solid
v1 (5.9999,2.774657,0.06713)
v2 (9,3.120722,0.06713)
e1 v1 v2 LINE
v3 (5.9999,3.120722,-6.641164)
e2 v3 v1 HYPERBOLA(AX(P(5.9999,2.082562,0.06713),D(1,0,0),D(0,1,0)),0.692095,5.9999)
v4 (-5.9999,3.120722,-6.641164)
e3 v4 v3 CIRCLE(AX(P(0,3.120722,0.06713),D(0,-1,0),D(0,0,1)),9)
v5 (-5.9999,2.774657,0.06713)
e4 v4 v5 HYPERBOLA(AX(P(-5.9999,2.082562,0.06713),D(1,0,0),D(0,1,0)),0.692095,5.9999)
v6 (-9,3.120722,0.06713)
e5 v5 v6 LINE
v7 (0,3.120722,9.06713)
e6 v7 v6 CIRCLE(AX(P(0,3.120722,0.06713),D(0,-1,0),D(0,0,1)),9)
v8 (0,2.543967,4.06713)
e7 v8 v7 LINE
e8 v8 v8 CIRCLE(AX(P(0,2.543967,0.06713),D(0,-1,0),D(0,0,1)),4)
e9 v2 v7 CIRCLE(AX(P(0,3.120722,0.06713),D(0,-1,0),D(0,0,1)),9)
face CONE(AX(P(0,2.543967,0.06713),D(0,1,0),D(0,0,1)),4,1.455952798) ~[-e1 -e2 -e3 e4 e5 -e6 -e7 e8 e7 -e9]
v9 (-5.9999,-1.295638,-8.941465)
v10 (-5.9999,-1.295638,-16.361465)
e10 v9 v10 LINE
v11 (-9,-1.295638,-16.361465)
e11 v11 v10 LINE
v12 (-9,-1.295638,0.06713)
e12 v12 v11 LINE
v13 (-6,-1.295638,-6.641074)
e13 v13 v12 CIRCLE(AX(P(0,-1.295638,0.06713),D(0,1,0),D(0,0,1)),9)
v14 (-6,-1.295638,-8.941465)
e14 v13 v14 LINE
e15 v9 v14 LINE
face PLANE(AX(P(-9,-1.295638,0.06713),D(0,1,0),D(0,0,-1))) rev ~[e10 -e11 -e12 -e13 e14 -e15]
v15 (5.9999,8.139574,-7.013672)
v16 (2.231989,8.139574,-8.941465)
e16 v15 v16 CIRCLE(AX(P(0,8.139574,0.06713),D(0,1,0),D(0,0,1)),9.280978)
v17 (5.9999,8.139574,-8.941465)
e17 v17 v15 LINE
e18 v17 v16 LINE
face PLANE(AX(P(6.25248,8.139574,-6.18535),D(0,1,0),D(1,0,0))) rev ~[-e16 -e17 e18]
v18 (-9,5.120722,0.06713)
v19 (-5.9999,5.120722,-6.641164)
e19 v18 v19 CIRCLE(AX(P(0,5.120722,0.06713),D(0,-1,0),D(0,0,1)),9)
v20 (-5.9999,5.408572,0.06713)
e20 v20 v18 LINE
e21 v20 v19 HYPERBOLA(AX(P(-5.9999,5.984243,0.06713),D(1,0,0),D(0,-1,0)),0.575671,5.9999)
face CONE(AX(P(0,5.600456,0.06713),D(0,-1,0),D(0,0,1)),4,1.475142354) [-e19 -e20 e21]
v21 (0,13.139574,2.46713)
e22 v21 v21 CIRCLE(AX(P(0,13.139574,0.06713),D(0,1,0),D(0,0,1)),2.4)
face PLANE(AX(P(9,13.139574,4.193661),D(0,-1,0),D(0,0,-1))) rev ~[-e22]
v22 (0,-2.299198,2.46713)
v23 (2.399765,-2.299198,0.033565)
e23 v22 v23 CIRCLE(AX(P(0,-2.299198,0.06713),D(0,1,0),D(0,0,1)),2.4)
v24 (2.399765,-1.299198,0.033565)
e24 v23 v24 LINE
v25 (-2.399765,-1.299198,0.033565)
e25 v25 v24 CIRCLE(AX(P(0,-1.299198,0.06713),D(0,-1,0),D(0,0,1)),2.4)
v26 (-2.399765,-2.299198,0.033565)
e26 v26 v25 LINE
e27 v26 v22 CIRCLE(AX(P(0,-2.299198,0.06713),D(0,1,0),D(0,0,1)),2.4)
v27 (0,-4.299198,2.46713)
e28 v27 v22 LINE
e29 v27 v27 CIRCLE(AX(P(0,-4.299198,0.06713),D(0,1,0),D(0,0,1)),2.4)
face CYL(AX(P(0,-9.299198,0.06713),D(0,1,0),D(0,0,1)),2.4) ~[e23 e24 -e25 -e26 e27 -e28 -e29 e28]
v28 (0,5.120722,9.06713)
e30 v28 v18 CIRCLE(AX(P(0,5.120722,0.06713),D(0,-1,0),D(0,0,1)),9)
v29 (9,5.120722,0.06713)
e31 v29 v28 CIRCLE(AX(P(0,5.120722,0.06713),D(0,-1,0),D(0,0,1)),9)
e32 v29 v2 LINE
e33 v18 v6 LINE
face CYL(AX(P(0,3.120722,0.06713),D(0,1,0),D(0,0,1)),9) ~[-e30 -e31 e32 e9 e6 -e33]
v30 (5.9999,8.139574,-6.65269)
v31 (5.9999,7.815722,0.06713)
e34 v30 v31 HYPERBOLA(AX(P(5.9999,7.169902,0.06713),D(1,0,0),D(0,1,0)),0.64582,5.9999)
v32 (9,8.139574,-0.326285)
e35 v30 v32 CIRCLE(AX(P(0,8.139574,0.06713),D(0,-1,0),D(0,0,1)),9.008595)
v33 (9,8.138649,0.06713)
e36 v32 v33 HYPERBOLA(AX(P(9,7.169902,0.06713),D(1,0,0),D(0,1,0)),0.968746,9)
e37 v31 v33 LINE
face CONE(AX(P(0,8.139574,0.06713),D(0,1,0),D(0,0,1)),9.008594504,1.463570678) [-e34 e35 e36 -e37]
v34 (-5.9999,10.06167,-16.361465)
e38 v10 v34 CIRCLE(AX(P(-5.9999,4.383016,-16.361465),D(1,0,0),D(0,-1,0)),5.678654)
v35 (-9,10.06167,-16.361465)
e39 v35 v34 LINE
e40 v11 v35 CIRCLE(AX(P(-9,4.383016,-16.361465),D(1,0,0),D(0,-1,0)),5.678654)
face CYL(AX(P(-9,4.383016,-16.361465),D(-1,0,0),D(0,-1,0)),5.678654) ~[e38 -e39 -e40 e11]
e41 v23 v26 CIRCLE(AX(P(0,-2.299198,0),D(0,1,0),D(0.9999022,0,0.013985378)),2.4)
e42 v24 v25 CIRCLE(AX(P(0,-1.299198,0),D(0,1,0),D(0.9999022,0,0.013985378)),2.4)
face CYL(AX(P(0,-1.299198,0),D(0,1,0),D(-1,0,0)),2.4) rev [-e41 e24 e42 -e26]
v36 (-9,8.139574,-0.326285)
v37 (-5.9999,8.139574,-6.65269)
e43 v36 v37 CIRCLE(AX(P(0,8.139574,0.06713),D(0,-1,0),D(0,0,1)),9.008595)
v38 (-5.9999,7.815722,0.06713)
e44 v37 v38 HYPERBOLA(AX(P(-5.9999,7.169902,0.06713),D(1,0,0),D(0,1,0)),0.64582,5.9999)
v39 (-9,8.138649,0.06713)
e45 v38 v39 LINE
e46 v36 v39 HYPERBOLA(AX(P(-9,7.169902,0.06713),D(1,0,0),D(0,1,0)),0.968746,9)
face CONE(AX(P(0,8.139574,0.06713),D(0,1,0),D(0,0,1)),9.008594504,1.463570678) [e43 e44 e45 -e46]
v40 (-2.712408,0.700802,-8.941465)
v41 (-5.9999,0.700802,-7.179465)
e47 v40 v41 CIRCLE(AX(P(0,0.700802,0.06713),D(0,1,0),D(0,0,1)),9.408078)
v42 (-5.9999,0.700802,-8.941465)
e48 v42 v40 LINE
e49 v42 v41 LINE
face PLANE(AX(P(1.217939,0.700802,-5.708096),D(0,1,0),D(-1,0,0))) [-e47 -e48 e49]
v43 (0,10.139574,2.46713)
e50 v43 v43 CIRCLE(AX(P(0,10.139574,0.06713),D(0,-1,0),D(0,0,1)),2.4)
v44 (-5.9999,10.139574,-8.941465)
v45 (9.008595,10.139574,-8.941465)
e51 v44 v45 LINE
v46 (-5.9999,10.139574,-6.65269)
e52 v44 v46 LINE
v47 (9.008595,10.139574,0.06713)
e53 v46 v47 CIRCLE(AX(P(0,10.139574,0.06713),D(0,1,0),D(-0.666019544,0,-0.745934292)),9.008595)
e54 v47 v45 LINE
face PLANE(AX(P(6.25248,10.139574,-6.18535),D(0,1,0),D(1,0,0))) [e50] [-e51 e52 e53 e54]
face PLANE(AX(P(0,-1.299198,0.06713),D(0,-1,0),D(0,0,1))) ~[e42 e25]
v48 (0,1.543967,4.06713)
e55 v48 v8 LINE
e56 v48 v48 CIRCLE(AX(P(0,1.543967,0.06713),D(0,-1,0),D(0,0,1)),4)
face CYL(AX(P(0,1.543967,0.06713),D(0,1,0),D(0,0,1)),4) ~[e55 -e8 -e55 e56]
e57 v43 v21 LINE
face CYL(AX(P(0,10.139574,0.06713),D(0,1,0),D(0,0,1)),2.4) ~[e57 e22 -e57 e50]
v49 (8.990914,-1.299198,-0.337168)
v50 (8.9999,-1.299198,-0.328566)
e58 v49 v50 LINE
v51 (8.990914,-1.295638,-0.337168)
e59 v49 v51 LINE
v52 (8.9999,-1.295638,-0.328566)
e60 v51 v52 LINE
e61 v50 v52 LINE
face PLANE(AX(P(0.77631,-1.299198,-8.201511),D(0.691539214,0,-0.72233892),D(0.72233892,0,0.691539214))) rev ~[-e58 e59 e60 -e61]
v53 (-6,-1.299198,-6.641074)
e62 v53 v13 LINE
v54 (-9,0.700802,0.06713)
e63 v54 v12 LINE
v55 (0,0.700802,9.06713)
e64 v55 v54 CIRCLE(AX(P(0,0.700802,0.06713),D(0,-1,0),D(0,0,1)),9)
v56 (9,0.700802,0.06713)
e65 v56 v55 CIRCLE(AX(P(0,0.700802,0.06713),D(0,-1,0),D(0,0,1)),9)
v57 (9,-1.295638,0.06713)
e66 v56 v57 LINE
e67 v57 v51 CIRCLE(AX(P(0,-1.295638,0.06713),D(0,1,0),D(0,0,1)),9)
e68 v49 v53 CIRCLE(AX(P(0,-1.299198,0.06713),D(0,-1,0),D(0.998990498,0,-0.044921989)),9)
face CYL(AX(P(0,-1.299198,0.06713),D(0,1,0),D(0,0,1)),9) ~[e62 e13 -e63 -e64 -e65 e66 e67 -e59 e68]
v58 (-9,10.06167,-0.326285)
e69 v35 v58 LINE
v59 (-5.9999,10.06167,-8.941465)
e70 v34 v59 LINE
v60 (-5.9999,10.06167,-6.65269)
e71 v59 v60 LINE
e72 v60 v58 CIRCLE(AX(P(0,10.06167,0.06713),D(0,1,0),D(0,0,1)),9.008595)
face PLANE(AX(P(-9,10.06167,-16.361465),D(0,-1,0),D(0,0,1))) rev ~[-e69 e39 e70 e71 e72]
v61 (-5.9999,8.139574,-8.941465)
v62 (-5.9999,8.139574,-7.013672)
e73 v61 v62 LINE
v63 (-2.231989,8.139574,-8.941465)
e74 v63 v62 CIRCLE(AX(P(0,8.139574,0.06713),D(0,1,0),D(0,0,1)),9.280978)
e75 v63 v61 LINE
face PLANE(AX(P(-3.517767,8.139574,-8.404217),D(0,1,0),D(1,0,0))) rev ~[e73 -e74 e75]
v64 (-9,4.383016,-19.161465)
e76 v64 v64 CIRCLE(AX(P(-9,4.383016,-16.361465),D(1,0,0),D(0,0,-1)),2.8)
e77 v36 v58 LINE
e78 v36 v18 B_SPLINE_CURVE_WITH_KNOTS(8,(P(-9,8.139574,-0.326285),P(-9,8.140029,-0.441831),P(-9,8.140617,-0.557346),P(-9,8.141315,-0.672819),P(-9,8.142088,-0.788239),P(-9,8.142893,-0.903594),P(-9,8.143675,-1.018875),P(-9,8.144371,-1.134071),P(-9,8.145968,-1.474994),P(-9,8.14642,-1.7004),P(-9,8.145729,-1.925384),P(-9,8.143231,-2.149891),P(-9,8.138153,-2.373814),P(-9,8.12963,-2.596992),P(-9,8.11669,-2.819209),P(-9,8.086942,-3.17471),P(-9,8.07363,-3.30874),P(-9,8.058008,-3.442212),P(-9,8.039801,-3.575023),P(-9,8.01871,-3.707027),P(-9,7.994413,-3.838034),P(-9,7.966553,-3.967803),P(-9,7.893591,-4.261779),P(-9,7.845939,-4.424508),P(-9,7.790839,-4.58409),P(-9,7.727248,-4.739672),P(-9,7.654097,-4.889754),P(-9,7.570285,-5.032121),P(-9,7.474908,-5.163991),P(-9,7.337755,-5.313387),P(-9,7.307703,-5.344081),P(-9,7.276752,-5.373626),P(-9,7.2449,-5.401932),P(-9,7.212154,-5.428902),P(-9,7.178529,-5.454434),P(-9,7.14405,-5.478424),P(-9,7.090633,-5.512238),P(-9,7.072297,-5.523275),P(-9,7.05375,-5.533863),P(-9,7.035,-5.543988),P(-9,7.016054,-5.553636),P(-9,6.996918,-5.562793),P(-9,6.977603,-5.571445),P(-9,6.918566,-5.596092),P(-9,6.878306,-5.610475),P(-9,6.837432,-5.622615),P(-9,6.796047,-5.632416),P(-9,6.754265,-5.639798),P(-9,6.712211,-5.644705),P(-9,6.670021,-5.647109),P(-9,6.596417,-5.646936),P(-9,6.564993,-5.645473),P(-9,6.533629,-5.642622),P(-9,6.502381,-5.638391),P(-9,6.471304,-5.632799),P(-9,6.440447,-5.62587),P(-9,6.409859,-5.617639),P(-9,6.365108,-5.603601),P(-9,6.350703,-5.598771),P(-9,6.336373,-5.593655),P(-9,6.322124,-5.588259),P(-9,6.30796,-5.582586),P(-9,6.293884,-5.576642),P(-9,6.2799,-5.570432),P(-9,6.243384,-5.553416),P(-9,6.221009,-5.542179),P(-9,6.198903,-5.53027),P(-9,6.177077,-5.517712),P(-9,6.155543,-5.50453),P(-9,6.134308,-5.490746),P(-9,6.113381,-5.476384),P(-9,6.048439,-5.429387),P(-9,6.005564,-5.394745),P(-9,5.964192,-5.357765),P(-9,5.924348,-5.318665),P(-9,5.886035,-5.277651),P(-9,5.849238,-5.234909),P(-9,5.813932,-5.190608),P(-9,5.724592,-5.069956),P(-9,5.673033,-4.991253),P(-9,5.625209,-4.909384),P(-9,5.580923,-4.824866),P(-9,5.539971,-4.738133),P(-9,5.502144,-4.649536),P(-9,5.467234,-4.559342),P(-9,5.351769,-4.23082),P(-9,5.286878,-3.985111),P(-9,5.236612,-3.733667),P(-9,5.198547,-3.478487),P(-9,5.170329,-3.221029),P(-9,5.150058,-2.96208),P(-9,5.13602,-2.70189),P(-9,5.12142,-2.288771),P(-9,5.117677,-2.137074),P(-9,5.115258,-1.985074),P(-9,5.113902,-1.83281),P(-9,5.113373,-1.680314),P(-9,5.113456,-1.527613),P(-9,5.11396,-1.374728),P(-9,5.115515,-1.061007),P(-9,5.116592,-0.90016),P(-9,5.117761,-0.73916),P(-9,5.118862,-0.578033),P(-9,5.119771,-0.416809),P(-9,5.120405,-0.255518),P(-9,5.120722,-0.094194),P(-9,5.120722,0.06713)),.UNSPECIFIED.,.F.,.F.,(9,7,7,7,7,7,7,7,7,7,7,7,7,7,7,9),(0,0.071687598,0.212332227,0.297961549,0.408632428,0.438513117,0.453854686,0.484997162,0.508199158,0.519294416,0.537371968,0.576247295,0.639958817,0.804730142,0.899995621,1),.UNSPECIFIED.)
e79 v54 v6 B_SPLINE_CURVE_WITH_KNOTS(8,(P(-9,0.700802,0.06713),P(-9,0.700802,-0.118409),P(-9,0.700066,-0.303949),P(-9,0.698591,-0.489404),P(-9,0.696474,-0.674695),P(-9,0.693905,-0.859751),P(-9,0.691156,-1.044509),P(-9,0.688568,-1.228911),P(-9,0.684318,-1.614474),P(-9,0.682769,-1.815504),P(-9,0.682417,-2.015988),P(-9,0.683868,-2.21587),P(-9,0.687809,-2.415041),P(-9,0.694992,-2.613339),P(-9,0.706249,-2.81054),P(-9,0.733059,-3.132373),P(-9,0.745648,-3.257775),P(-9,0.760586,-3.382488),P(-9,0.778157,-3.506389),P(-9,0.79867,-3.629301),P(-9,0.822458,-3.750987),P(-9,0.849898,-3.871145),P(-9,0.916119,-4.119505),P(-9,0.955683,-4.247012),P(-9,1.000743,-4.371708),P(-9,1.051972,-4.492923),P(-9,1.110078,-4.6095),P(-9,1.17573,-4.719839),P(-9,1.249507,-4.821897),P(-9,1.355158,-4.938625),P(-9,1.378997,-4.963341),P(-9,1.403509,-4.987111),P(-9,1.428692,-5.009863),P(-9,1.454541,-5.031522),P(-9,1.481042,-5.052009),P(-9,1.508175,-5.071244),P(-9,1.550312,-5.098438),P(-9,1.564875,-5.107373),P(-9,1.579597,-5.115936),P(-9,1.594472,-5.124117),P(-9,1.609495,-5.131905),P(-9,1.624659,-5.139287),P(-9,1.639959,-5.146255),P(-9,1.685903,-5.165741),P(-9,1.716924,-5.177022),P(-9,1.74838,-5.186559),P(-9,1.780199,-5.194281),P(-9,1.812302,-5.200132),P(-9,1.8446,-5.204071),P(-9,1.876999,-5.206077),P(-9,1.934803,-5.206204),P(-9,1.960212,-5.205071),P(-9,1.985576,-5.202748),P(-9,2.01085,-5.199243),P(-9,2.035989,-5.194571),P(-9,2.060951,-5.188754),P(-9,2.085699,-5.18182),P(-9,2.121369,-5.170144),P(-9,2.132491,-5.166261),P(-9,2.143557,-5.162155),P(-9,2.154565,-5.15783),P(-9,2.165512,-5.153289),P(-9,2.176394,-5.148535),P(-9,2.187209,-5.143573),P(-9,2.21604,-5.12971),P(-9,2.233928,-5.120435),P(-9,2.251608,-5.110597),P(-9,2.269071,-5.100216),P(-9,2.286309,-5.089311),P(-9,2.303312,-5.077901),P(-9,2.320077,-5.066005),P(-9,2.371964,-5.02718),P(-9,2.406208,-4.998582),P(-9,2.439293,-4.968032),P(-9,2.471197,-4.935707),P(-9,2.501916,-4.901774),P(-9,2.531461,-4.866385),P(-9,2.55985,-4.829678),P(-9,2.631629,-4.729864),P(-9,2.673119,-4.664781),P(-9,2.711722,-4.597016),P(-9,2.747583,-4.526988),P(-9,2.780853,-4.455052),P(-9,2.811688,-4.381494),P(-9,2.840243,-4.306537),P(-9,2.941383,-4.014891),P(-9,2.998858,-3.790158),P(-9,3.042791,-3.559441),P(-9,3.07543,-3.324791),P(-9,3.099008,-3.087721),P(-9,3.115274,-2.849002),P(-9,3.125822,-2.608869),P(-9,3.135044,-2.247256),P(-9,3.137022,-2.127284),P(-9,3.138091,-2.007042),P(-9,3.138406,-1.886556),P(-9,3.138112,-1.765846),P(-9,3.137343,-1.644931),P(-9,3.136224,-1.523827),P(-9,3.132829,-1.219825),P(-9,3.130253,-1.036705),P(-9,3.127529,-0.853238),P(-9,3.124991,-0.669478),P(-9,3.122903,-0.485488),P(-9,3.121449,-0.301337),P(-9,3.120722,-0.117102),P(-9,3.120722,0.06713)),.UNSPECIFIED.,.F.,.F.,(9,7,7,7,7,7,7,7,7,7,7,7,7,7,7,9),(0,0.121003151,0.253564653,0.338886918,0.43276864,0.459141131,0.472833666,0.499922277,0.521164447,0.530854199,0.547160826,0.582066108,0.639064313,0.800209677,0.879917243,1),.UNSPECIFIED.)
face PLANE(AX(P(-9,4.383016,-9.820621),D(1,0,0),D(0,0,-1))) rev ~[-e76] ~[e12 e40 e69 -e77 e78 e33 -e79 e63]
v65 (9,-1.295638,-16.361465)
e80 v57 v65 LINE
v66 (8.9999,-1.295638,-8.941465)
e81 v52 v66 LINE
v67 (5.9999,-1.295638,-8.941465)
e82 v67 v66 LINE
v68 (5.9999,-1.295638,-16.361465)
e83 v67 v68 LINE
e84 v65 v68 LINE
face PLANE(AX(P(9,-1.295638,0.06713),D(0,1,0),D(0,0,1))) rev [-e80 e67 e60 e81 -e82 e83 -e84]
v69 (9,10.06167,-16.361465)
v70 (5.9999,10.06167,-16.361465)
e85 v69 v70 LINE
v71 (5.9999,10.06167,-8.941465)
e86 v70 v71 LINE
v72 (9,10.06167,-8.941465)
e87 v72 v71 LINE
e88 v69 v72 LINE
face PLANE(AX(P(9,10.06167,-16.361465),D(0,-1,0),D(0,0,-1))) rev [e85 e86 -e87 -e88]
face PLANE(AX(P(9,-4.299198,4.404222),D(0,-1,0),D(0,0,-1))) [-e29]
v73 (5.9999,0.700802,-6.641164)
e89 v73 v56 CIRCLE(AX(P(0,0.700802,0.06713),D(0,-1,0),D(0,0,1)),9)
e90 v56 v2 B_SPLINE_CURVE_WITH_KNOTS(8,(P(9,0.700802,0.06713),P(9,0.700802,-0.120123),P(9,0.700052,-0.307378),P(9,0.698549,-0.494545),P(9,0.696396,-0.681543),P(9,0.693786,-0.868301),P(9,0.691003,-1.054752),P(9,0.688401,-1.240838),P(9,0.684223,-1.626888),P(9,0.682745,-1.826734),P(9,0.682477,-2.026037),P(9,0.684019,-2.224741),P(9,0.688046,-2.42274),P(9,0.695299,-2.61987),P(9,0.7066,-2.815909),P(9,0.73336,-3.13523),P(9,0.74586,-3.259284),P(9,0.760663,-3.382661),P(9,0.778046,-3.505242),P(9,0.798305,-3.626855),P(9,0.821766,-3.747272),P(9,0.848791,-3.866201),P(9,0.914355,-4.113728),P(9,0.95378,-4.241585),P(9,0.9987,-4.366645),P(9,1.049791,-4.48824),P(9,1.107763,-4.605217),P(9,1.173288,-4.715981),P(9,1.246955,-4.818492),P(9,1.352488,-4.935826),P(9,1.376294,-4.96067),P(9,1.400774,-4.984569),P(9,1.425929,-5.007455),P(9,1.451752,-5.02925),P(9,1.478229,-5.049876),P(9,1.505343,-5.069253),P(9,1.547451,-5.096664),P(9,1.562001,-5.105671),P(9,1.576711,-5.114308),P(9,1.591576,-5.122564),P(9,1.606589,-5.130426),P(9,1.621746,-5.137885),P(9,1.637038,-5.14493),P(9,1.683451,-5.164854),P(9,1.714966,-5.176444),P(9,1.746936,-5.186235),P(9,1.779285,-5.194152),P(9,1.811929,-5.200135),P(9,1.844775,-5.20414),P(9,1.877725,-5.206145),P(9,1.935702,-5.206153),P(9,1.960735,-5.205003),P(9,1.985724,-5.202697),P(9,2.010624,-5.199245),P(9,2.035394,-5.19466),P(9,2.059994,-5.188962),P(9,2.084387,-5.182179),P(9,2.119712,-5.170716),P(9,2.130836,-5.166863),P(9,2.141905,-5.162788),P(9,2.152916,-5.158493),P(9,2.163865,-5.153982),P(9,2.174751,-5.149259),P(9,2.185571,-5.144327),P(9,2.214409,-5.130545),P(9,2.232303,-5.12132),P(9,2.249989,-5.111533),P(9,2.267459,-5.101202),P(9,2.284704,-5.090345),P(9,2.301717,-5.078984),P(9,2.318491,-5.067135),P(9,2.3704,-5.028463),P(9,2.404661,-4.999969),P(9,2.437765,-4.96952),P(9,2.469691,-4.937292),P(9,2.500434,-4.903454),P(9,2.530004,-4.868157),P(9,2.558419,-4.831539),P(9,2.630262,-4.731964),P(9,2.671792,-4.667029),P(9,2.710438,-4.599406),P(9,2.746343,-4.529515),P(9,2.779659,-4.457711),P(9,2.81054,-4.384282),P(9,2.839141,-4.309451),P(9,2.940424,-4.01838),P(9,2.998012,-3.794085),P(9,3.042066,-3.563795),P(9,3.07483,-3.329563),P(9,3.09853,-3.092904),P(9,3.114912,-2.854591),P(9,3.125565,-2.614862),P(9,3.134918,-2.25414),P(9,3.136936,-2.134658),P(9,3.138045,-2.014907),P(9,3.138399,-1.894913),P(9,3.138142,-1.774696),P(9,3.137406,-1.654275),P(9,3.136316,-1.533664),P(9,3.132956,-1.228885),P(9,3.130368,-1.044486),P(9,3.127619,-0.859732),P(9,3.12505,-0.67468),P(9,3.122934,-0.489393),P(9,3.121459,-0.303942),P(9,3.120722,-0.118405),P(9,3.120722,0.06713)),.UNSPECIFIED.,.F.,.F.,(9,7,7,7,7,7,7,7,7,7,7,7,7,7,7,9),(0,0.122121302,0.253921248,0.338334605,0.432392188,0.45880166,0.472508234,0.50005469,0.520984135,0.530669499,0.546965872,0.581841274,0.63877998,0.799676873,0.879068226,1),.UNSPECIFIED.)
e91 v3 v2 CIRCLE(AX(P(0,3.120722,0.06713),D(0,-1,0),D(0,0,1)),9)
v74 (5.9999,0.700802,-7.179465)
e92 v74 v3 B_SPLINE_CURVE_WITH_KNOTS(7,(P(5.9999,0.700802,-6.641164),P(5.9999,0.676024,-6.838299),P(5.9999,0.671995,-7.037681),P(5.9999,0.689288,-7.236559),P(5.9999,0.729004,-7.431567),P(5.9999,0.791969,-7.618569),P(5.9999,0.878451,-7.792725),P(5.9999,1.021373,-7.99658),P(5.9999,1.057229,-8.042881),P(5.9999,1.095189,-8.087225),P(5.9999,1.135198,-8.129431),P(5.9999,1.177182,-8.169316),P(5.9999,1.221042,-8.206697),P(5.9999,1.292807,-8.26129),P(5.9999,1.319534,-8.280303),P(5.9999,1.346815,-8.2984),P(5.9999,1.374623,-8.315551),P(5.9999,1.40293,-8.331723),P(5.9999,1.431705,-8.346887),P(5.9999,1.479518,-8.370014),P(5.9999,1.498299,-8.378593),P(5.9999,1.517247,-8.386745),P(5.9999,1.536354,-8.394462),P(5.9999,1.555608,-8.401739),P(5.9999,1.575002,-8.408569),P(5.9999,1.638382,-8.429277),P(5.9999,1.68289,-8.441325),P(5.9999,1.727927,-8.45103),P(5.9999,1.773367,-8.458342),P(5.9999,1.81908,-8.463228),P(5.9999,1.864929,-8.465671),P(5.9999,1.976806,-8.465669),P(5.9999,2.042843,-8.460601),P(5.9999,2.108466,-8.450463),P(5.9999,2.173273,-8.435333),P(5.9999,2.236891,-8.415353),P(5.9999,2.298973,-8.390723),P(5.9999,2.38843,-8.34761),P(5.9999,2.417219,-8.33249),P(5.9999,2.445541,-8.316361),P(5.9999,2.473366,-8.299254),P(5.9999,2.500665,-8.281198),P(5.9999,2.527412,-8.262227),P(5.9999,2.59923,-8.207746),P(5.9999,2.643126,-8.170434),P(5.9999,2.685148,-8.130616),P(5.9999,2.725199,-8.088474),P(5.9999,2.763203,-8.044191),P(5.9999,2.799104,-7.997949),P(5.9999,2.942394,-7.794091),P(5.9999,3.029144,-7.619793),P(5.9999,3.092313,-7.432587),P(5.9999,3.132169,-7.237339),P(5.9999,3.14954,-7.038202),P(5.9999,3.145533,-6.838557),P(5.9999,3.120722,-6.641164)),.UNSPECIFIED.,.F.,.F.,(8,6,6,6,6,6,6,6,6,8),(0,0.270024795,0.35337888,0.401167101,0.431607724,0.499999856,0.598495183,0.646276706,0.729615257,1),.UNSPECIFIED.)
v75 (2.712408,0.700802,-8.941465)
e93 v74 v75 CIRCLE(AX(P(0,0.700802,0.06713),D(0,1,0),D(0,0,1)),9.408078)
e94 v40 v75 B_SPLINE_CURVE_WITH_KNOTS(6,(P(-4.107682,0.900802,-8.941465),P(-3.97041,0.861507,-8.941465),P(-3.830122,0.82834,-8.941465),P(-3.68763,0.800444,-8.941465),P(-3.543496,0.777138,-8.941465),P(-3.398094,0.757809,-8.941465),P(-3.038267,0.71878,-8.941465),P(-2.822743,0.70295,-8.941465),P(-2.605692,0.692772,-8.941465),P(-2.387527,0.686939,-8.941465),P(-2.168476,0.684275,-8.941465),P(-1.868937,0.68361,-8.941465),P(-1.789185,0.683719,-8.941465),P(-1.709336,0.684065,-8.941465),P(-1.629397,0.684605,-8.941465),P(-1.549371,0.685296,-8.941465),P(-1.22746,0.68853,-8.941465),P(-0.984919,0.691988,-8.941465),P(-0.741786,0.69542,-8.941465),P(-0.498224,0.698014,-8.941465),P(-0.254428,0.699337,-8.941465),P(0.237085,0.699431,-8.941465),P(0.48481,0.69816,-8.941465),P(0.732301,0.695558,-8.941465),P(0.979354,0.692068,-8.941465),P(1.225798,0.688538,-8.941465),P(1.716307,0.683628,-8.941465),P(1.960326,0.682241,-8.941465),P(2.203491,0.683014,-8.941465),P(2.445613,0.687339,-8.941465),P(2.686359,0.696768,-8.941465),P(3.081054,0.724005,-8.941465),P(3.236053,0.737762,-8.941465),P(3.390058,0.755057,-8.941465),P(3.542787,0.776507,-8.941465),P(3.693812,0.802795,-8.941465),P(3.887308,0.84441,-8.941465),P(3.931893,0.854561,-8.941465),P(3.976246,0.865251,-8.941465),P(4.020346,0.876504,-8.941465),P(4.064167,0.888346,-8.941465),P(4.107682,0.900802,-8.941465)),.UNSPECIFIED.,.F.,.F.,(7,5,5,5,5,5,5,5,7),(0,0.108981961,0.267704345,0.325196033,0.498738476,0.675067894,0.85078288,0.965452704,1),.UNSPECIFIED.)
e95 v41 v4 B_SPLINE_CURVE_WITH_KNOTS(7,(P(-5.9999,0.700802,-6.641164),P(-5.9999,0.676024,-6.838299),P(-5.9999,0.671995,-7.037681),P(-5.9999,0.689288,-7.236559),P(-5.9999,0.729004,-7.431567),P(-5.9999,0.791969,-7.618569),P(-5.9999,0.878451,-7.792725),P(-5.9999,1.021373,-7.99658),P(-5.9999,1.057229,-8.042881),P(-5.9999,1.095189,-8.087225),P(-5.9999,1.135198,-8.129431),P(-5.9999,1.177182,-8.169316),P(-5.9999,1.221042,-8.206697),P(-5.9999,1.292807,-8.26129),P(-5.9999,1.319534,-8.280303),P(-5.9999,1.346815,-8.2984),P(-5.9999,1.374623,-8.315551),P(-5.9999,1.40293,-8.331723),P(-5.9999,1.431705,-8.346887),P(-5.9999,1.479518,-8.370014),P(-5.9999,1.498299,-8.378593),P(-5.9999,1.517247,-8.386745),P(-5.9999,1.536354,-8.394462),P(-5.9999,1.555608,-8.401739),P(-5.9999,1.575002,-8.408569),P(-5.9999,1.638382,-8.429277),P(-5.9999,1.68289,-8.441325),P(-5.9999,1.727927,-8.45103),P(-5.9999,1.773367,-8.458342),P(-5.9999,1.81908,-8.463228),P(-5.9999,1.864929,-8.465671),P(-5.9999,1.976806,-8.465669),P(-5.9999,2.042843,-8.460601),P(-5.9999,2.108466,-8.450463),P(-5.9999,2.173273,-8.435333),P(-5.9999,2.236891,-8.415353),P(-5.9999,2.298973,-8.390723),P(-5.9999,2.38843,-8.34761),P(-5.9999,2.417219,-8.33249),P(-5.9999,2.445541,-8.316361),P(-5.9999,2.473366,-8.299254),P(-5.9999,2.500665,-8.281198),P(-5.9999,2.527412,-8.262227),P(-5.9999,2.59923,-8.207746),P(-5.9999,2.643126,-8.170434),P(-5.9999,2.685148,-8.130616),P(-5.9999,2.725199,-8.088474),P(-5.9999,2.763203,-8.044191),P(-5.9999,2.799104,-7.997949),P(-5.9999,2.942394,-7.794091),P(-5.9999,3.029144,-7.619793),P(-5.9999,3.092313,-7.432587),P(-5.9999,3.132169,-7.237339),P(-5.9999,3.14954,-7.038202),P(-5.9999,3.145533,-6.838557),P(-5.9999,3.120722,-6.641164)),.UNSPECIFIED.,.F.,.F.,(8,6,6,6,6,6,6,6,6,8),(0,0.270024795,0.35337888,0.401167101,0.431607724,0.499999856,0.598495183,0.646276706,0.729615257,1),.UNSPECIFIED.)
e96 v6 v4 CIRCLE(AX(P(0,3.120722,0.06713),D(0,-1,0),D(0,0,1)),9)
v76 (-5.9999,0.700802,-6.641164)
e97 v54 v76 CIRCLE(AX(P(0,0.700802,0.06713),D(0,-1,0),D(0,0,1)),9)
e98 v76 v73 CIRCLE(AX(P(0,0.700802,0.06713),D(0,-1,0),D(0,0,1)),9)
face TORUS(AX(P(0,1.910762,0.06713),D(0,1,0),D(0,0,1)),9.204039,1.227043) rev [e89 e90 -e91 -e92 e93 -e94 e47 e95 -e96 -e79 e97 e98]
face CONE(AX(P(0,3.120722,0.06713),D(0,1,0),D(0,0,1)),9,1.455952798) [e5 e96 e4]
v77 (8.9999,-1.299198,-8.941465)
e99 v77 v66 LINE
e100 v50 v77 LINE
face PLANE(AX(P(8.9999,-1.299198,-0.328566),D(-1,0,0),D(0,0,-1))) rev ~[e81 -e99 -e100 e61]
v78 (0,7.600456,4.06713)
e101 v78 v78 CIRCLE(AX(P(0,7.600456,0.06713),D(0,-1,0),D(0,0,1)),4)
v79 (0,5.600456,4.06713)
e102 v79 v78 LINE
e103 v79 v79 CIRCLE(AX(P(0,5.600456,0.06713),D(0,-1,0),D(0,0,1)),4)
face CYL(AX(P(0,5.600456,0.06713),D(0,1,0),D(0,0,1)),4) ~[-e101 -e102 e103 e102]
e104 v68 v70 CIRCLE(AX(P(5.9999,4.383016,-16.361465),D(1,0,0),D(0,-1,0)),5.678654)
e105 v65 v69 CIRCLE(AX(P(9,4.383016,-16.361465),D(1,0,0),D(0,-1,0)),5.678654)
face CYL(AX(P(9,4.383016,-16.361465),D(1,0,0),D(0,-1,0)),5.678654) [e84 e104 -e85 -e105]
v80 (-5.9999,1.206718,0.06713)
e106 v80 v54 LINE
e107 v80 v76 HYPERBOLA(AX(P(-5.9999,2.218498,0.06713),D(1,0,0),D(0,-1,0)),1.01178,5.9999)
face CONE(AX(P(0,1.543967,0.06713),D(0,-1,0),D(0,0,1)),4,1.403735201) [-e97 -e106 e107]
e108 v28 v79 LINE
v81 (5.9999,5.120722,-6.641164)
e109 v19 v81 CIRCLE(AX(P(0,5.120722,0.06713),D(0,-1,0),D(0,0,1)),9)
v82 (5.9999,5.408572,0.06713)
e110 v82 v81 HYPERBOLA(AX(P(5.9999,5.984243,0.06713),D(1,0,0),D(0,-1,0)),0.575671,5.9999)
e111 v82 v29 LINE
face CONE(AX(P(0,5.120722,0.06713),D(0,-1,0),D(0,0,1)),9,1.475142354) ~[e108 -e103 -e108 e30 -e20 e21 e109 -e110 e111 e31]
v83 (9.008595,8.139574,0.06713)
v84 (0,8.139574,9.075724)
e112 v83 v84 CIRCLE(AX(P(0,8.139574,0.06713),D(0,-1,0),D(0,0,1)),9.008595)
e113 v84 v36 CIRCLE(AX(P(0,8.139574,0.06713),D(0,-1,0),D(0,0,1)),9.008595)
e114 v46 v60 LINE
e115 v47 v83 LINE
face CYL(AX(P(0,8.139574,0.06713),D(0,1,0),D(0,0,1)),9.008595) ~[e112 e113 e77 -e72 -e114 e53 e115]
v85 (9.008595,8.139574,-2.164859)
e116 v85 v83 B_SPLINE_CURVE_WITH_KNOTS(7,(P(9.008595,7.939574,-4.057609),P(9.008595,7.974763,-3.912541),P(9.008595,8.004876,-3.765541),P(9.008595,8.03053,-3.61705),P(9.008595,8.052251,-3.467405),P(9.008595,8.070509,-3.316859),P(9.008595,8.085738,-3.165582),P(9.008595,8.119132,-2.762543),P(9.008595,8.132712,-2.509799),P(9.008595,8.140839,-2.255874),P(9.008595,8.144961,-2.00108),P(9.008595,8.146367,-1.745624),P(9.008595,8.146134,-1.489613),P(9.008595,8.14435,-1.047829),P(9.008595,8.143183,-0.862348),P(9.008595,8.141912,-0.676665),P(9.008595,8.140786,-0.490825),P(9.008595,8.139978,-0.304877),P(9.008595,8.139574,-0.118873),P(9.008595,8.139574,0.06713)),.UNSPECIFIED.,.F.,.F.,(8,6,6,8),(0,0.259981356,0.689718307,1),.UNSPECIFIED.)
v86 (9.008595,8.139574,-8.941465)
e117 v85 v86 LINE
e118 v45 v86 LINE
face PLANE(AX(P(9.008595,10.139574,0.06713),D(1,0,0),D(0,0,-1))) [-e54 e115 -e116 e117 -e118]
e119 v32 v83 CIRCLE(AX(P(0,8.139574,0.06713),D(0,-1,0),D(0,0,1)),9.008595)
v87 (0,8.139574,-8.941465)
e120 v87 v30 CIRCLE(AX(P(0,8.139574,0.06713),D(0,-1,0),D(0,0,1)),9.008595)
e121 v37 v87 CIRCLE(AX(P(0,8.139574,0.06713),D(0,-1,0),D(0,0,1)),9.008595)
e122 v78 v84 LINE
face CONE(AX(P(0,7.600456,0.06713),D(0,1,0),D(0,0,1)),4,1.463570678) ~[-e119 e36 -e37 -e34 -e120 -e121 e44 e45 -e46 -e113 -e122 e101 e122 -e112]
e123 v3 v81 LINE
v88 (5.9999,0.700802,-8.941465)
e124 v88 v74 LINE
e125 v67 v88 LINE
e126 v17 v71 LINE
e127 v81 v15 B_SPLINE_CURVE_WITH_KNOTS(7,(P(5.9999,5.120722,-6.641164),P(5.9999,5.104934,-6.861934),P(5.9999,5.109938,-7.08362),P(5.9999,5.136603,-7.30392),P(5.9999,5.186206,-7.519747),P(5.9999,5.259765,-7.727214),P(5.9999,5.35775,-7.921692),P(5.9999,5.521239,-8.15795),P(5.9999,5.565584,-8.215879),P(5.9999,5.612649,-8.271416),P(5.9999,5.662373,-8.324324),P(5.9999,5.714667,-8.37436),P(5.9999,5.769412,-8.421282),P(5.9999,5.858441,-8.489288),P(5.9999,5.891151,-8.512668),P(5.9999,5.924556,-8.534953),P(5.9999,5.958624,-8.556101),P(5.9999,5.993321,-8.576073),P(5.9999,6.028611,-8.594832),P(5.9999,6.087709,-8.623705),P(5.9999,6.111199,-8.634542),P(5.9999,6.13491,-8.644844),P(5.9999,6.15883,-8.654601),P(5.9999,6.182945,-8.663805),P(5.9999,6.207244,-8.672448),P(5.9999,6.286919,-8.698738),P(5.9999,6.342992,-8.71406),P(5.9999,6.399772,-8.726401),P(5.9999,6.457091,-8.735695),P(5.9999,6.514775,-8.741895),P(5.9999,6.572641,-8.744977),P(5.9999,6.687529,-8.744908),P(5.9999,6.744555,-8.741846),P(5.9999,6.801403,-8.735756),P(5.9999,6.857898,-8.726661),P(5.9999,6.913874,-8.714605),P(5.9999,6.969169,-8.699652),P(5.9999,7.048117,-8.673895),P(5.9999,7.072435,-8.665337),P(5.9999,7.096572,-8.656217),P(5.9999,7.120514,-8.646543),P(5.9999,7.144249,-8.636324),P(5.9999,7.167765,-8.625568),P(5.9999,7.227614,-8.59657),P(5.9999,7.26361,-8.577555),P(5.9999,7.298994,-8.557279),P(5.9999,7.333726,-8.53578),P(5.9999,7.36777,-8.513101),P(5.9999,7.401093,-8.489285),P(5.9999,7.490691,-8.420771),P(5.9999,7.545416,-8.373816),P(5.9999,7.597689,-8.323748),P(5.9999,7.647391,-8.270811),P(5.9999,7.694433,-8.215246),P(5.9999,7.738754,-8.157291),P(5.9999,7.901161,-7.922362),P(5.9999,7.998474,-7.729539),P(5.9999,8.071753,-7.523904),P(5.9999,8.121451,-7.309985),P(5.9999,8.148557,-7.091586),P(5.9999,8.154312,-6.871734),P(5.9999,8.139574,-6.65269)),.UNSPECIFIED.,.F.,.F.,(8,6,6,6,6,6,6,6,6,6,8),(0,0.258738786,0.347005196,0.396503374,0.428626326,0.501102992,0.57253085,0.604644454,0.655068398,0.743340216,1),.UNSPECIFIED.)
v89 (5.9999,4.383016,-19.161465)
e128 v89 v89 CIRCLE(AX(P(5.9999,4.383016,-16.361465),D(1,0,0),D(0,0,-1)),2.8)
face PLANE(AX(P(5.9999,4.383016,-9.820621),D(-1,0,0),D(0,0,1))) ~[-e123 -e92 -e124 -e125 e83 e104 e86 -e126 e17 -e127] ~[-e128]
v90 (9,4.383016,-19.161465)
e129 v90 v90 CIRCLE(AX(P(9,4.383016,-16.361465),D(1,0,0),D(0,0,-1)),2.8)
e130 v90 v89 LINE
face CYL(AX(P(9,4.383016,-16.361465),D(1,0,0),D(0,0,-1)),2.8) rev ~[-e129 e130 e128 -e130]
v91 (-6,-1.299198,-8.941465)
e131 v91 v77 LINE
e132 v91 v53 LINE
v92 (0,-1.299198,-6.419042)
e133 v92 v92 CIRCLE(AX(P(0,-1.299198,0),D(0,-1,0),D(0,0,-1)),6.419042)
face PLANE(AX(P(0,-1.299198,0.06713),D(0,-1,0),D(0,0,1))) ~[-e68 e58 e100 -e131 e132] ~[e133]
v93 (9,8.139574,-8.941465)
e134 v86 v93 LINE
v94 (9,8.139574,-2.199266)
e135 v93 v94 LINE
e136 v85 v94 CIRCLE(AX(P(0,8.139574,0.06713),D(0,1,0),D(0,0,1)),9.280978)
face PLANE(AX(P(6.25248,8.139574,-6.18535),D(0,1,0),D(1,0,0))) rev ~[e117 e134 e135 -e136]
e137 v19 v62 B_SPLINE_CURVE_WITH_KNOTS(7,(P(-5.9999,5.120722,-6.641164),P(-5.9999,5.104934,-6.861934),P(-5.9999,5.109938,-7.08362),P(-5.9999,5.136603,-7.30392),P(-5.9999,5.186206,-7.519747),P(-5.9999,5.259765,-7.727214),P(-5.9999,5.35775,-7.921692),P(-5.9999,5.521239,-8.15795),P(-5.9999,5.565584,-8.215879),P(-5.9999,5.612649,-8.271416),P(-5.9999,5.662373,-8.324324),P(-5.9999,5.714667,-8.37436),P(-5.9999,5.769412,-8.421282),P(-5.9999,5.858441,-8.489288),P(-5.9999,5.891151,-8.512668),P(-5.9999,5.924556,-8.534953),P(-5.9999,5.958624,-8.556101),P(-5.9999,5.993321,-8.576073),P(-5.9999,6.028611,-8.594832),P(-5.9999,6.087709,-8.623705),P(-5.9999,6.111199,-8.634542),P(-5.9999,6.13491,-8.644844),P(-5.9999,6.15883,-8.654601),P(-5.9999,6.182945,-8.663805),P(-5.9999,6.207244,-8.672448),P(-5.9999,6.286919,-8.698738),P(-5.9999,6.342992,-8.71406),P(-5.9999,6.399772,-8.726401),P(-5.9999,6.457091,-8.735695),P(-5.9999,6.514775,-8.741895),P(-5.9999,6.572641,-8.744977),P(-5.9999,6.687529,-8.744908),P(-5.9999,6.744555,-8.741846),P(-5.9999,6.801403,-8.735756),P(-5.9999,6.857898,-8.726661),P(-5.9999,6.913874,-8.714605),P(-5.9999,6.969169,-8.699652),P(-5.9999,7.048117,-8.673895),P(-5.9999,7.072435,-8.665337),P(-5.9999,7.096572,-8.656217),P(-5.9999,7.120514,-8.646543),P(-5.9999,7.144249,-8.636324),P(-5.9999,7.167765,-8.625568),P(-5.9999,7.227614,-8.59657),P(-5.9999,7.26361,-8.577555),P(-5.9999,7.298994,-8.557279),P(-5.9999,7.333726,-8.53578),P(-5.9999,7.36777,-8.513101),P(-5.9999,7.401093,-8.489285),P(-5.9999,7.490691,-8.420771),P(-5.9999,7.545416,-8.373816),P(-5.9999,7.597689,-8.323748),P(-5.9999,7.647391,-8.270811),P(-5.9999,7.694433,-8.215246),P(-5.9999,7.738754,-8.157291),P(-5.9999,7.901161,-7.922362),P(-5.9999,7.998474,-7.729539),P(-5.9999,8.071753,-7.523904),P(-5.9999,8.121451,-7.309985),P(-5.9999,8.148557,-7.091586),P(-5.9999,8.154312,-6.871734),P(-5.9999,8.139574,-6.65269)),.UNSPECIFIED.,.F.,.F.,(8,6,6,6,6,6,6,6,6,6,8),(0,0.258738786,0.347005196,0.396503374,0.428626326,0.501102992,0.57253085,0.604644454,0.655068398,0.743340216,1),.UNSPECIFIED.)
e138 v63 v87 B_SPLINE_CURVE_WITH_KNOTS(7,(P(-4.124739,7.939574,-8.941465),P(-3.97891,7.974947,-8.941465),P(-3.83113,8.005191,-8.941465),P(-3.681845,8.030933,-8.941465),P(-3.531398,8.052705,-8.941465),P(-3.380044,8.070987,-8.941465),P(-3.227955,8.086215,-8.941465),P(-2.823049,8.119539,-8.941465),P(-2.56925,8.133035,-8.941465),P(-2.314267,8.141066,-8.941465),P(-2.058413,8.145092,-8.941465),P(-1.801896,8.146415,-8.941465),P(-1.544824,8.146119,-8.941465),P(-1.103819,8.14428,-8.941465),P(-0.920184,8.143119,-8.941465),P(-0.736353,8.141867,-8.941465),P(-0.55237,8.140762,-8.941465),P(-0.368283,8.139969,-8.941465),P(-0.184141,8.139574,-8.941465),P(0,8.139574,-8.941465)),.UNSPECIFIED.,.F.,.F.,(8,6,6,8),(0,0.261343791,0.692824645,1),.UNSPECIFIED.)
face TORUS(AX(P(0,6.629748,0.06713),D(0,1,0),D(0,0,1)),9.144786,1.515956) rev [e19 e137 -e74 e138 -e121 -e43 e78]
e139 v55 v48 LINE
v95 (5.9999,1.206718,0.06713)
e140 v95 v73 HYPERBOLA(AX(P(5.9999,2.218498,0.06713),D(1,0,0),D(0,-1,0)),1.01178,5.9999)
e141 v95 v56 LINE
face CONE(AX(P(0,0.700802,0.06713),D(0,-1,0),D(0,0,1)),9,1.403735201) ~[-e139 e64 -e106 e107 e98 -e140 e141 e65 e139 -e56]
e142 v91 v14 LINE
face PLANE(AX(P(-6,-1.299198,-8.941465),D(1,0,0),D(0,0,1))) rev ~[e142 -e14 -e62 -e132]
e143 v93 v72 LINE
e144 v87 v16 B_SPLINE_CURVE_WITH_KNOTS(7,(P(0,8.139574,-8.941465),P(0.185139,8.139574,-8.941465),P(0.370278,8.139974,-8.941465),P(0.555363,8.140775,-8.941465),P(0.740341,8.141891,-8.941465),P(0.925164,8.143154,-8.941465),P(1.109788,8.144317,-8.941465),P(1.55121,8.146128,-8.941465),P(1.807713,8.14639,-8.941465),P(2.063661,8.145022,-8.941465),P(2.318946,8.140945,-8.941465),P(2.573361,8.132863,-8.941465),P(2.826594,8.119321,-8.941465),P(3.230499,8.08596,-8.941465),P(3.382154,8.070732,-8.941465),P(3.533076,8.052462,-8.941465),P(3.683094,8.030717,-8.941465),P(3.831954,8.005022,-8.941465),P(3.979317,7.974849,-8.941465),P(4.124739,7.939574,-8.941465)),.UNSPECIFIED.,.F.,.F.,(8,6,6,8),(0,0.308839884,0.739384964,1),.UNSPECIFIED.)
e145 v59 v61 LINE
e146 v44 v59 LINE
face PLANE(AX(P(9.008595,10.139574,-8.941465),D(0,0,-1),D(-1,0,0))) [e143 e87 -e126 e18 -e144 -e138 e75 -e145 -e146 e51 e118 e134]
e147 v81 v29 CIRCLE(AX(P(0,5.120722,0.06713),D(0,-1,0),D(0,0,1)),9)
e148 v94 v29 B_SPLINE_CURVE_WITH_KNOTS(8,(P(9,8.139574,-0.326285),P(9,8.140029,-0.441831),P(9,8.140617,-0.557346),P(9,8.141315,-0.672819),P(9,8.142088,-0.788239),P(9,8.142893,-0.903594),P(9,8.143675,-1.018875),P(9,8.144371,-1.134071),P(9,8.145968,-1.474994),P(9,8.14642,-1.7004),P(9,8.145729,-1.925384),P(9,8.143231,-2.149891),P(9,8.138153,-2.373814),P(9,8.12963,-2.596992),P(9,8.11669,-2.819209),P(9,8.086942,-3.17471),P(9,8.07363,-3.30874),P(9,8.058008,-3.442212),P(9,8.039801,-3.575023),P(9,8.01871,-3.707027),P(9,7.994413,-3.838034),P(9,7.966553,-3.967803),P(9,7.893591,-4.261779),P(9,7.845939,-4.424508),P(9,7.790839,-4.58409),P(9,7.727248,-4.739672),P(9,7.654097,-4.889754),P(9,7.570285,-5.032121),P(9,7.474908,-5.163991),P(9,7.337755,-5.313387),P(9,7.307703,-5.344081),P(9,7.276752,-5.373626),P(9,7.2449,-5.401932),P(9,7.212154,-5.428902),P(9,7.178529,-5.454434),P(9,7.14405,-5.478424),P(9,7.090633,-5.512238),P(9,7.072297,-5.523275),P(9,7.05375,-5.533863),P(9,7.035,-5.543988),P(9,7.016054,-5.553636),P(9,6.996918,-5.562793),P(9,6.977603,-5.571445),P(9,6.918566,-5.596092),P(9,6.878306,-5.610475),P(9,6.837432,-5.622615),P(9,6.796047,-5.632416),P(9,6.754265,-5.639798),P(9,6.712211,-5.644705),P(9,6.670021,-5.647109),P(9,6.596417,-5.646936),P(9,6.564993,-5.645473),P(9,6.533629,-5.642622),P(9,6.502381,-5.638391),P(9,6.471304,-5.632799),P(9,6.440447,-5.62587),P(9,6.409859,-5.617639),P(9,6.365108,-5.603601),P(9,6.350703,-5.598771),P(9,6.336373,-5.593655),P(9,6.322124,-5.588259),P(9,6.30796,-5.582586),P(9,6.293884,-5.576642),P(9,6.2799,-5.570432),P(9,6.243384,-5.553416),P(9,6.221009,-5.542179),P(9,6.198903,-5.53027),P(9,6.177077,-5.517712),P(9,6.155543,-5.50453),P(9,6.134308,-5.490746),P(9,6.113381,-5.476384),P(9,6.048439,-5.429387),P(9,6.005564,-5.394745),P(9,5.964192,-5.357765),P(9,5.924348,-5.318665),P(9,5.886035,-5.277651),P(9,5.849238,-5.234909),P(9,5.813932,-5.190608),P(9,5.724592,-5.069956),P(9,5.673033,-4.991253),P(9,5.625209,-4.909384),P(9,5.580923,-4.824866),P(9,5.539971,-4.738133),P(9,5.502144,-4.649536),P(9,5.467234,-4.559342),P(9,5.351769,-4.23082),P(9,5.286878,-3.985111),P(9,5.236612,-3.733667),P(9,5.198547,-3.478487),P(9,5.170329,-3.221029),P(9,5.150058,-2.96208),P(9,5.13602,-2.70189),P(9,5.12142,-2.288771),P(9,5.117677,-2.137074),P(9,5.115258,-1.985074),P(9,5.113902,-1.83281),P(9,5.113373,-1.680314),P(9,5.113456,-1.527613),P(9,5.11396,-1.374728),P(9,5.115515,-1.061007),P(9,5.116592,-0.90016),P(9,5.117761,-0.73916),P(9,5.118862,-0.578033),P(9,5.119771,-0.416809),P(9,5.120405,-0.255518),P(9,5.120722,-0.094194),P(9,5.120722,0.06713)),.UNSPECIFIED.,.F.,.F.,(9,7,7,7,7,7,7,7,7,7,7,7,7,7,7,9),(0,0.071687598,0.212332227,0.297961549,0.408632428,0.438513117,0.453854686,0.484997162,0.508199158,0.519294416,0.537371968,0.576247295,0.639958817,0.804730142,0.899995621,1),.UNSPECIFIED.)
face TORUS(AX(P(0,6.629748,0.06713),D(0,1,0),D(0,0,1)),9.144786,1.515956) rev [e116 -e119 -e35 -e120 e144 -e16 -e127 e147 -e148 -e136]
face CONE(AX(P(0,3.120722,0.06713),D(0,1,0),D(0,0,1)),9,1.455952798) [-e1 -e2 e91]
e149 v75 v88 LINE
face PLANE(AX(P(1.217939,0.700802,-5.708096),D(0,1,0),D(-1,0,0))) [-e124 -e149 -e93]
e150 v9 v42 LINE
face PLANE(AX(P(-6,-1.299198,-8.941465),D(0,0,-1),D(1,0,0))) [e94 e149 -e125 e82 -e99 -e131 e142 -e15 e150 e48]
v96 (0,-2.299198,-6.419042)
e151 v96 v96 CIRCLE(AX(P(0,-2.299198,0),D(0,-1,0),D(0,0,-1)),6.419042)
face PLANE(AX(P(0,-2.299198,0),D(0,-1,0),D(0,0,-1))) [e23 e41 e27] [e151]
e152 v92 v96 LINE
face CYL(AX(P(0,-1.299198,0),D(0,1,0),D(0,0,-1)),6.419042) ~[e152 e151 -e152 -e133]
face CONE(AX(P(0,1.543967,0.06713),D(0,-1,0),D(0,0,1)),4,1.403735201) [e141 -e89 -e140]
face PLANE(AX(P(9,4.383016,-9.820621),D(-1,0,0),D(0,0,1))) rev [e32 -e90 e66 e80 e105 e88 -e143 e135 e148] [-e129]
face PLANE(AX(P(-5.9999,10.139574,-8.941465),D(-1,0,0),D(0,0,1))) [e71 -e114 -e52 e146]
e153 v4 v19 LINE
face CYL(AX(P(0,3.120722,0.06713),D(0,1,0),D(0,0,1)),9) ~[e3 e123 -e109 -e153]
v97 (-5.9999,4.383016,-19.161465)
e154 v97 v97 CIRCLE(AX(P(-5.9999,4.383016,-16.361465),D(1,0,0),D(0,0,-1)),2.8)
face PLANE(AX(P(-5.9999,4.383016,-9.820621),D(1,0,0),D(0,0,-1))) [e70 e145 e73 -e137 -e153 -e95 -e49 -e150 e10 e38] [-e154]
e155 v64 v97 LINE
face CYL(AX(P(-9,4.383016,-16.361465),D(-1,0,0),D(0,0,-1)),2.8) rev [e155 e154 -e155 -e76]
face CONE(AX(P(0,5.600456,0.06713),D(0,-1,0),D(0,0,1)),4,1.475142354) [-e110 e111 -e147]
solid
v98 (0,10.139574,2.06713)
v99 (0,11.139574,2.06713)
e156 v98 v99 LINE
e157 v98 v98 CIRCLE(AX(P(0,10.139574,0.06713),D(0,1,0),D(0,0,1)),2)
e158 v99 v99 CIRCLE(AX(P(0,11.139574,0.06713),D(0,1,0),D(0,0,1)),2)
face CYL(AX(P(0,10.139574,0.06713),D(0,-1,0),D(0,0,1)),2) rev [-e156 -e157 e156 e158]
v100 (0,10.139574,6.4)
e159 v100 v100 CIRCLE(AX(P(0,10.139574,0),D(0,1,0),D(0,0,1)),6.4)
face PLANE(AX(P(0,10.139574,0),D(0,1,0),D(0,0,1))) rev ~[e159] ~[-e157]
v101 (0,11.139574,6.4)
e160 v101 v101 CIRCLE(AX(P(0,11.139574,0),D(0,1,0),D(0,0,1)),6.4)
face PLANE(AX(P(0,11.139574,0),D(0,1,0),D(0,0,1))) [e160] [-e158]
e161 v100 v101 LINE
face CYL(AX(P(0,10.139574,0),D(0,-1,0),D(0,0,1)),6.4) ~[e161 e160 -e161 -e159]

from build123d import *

# Parameters (mm, degrees)
SKETCH4_R            = 6.4
SKETCH4_R_2          = 2
BOSS_EXTRUDE3_DEPTH  = 1
BOSS_EXTRUDE6_START  = -3
SKETCH5_R            = 2.8
BOSS_EXTRUDE6_DEPTH  = 3.0001
BOSS_EXTRUDE10_DEPTH = 2
BOSS_EXTRUDE22_DEPTH = 2
SKETCH9_R            = 6.419042014
SKETCH9_R_2          = 2.4
BOSS_EXTRUDE9_DEPTH  = 1
SKETCH20_W           = 8
SKETCH20_H           = 6.154479265
SKETCH20_H_2         = 5.383738507
CUT_EXTRUDE5_DEPTH   = 18


with BuildPart() as part:
    # Sketch3 → Revolve1 (revolve)
    with BuildSketch(Plane(origin=(0, 0, 0), x_dir=(0, 0, -1), z_dir=(1, 0, 0))):
        Polygon((-0.067129815, -0.43473366), (-0.067129815, -9.299197596), (-2.467129815, -9.299197596), (-2.467129815, -1.299197596), (-9.067129815, -1.299197596), (-9.067129815, 0.700802404), (-4.067129815, 1.543966741), (-4.067129815, 2.543966741), (-9.067129815, 3.120722235), (-9.067129815, 5.120722235), (-4.067129815, 5.60045613), (-4.067129815, 7.60045613), (-9.075724319, 8.13957365), (-9.075724319, 10.13957365), (-2.467129815, 10.13957365), (-2.467129815, 18.13957365), (-0.067129815, 18.13957365), (-0.067129815, 3.856212764), align=None)
    revolve(axis=Axis((0, 3.856212764, 0.067129815), (0, -1, 0)))

    # Sketch5 → Boss-Extrude6 (add)
    with BuildSketch(Plane(origin=(-6, 0, 3.854187267), x_dir=(0, 0, -1), z_dir=(1, 0, 0)).offset(BOSS_EXTRUDE6_START)):
        with BuildLine():
            Line((20.215651957, 10.061670309), (3.787057453, 10.061670309))
            Line((3.787057453, 10.061670309), (3.787057453, -1.295637692))
            Line((3.787057453, -1.295637692), (20.215651957, -1.295637692))
            ThreePointArc((20.215651957, -1.295637692), (25.894305958, 4.383016309), (20.215651957, 10.061670309))
        make_face()
        with Locations((20.215651957, 4.383016309)):
            Circle(SKETCH5_R, mode=Mode.SUBTRACT)
    boss_extrude6 = extrude(amount=BOSS_EXTRUDE6_DEPTH)

    # Mirror1: Boss-Extrude6 across plane
    add(boss_extrude6.mirror(Plane(origin=(0, 0, 0), x_dir=(0, 0, 1), z_dir=(1, 0, 0))))

    # Sketch17 → Boss-Extrude10 (add)
    with BuildSketch(Plane(origin=(0, 10.13957365, 0), x_dir=(1, 0, 0), z_dir=(0, 1, 0))):
        with BuildLine():
            Line((9.008594505, 8.94146469), (0, 8.94146469))
            ThreePointArc((0, 8.94146469), (6.370038263, 6.302908449), (9.008594505, -0.067129815))
            Line((9.008594505, -0.067129815), (9.008594505, 8.94146469))
        make_face()
        with BuildLine():
            Line((-5.9999, 8.94146469), (-5.9999, 6.652689747))
            ThreePointArc((-5.9999, 6.652689747), (-3.2108134, 8.349844242), (0, 8.94146469))
            Line((0, 8.94146469), (-5.9999, 8.94146469))
        make_face()
    extrude(amount=-BOSS_EXTRUDE10_DEPTH)

    # Sketch18 → Boss-Extrude22 (add)
    with BuildSketch(Plane.XZ.offset(1.299197596)):
        Polygon((-6, 0.067129815), (-1.014029716, -8.201511055), (0.77631017, -8.201511055), (8.9999, -0.3285657), (8.9999, -8.94146469), (0, -8.94146469), (-6, -8.94146469), align=None)
    extrude(amount=-BOSS_EXTRUDE22_DEPTH)

    # Sketch9 → Boss-Extrude9 (add)
    with BuildSketch(Plane(origin=(0, -1.299197596, 0), x_dir=(-1, 0, 0), z_dir=(0, -1, 0))):
        with Locations(Location((0, 0, 0), (0, 0, 90))):
            Circle(SKETCH9_R)
        Circle(SKETCH9_R_2, mode=Mode.SUBTRACT)
    extrude(amount=BOSS_EXTRUDE9_DEPTH)

    # Sketch11 → Cut-Revolve3 (revolve, cut)
    with BuildSketch(Plane(origin=(0, 0, 0), x_dir=(0, 0, -1), z_dir=(1, 0, 0))):
        with BuildLine():
            ThreePointArc((-9.067129815, 5.120722235), (-10.727865544, 6.625432153), (-9.075724319, 8.13957365))
            Line((-9.075724319, 8.13957365), (-4.067129815, 7.60045613))
            Line((-4.067129815, 7.60045613), (-4.067129815, 5.60045613))
            Line((-4.067129815, 5.60045613), (-9.067129815, 5.120722235))
        make_face()
        with BuildLine():
            ThreePointArc((-9.067129815, 0.700802404), (-10.498211983, 1.91076232), (-9.067129815, 3.120722235))
            Line((-9.067129815, 3.120722235), (-4.067129815, 2.543966741))
            Line((-4.067129815, 2.543966741), (-4.067129815, 1.543966741))
            Line((-4.067129815, 1.543966741), (-9.067129815, 0.700802404))
        make_face()
    revolve(axis=Axis((0, -0.43473366, 0.067129815), (0, -1, 0)), mode=Mode.SUBTRACT)

    # Sketch20 → Cut-Extrude5 (cut)
    with BuildSketch(Plane(origin=(9, 0, 0), x_dir=(0, 0, -1), z_dir=(1, 0, 0))):
        with Locations((-0.193660705, 16.216813283)):
            Rectangle(SKETCH20_W, SKETCH20_H)
        with Locations((-0.404221955, -6.99106685)):
            Rectangle(SKETCH20_W, SKETCH20_H_2)
    extrude(amount=-CUT_EXTRUDE5_DEPTH, mode=Mode.SUBTRACT)


with BuildPart() as body_2:
    # Sketch4 → Boss-Extrude3 (new body)
    with BuildSketch(Plane(origin=(0, 10.13957365, 0), x_dir=(1, 0, 0), z_dir=(0, 1, 0))):
        with Locations(Location((0, 0, 0), (0, 0, 270))):
            Circle(SKETCH4_R)
        with Locations(Location((0, -0.067129815, 0), (0, 0, 270))):
            Circle(SKETCH4_R_2, mode=Mode.SUBTRACT)
    extrude(amount=BOSS_EXTRUDE3_DEPTH)


solid = Compound([part.part, body_2.part])
